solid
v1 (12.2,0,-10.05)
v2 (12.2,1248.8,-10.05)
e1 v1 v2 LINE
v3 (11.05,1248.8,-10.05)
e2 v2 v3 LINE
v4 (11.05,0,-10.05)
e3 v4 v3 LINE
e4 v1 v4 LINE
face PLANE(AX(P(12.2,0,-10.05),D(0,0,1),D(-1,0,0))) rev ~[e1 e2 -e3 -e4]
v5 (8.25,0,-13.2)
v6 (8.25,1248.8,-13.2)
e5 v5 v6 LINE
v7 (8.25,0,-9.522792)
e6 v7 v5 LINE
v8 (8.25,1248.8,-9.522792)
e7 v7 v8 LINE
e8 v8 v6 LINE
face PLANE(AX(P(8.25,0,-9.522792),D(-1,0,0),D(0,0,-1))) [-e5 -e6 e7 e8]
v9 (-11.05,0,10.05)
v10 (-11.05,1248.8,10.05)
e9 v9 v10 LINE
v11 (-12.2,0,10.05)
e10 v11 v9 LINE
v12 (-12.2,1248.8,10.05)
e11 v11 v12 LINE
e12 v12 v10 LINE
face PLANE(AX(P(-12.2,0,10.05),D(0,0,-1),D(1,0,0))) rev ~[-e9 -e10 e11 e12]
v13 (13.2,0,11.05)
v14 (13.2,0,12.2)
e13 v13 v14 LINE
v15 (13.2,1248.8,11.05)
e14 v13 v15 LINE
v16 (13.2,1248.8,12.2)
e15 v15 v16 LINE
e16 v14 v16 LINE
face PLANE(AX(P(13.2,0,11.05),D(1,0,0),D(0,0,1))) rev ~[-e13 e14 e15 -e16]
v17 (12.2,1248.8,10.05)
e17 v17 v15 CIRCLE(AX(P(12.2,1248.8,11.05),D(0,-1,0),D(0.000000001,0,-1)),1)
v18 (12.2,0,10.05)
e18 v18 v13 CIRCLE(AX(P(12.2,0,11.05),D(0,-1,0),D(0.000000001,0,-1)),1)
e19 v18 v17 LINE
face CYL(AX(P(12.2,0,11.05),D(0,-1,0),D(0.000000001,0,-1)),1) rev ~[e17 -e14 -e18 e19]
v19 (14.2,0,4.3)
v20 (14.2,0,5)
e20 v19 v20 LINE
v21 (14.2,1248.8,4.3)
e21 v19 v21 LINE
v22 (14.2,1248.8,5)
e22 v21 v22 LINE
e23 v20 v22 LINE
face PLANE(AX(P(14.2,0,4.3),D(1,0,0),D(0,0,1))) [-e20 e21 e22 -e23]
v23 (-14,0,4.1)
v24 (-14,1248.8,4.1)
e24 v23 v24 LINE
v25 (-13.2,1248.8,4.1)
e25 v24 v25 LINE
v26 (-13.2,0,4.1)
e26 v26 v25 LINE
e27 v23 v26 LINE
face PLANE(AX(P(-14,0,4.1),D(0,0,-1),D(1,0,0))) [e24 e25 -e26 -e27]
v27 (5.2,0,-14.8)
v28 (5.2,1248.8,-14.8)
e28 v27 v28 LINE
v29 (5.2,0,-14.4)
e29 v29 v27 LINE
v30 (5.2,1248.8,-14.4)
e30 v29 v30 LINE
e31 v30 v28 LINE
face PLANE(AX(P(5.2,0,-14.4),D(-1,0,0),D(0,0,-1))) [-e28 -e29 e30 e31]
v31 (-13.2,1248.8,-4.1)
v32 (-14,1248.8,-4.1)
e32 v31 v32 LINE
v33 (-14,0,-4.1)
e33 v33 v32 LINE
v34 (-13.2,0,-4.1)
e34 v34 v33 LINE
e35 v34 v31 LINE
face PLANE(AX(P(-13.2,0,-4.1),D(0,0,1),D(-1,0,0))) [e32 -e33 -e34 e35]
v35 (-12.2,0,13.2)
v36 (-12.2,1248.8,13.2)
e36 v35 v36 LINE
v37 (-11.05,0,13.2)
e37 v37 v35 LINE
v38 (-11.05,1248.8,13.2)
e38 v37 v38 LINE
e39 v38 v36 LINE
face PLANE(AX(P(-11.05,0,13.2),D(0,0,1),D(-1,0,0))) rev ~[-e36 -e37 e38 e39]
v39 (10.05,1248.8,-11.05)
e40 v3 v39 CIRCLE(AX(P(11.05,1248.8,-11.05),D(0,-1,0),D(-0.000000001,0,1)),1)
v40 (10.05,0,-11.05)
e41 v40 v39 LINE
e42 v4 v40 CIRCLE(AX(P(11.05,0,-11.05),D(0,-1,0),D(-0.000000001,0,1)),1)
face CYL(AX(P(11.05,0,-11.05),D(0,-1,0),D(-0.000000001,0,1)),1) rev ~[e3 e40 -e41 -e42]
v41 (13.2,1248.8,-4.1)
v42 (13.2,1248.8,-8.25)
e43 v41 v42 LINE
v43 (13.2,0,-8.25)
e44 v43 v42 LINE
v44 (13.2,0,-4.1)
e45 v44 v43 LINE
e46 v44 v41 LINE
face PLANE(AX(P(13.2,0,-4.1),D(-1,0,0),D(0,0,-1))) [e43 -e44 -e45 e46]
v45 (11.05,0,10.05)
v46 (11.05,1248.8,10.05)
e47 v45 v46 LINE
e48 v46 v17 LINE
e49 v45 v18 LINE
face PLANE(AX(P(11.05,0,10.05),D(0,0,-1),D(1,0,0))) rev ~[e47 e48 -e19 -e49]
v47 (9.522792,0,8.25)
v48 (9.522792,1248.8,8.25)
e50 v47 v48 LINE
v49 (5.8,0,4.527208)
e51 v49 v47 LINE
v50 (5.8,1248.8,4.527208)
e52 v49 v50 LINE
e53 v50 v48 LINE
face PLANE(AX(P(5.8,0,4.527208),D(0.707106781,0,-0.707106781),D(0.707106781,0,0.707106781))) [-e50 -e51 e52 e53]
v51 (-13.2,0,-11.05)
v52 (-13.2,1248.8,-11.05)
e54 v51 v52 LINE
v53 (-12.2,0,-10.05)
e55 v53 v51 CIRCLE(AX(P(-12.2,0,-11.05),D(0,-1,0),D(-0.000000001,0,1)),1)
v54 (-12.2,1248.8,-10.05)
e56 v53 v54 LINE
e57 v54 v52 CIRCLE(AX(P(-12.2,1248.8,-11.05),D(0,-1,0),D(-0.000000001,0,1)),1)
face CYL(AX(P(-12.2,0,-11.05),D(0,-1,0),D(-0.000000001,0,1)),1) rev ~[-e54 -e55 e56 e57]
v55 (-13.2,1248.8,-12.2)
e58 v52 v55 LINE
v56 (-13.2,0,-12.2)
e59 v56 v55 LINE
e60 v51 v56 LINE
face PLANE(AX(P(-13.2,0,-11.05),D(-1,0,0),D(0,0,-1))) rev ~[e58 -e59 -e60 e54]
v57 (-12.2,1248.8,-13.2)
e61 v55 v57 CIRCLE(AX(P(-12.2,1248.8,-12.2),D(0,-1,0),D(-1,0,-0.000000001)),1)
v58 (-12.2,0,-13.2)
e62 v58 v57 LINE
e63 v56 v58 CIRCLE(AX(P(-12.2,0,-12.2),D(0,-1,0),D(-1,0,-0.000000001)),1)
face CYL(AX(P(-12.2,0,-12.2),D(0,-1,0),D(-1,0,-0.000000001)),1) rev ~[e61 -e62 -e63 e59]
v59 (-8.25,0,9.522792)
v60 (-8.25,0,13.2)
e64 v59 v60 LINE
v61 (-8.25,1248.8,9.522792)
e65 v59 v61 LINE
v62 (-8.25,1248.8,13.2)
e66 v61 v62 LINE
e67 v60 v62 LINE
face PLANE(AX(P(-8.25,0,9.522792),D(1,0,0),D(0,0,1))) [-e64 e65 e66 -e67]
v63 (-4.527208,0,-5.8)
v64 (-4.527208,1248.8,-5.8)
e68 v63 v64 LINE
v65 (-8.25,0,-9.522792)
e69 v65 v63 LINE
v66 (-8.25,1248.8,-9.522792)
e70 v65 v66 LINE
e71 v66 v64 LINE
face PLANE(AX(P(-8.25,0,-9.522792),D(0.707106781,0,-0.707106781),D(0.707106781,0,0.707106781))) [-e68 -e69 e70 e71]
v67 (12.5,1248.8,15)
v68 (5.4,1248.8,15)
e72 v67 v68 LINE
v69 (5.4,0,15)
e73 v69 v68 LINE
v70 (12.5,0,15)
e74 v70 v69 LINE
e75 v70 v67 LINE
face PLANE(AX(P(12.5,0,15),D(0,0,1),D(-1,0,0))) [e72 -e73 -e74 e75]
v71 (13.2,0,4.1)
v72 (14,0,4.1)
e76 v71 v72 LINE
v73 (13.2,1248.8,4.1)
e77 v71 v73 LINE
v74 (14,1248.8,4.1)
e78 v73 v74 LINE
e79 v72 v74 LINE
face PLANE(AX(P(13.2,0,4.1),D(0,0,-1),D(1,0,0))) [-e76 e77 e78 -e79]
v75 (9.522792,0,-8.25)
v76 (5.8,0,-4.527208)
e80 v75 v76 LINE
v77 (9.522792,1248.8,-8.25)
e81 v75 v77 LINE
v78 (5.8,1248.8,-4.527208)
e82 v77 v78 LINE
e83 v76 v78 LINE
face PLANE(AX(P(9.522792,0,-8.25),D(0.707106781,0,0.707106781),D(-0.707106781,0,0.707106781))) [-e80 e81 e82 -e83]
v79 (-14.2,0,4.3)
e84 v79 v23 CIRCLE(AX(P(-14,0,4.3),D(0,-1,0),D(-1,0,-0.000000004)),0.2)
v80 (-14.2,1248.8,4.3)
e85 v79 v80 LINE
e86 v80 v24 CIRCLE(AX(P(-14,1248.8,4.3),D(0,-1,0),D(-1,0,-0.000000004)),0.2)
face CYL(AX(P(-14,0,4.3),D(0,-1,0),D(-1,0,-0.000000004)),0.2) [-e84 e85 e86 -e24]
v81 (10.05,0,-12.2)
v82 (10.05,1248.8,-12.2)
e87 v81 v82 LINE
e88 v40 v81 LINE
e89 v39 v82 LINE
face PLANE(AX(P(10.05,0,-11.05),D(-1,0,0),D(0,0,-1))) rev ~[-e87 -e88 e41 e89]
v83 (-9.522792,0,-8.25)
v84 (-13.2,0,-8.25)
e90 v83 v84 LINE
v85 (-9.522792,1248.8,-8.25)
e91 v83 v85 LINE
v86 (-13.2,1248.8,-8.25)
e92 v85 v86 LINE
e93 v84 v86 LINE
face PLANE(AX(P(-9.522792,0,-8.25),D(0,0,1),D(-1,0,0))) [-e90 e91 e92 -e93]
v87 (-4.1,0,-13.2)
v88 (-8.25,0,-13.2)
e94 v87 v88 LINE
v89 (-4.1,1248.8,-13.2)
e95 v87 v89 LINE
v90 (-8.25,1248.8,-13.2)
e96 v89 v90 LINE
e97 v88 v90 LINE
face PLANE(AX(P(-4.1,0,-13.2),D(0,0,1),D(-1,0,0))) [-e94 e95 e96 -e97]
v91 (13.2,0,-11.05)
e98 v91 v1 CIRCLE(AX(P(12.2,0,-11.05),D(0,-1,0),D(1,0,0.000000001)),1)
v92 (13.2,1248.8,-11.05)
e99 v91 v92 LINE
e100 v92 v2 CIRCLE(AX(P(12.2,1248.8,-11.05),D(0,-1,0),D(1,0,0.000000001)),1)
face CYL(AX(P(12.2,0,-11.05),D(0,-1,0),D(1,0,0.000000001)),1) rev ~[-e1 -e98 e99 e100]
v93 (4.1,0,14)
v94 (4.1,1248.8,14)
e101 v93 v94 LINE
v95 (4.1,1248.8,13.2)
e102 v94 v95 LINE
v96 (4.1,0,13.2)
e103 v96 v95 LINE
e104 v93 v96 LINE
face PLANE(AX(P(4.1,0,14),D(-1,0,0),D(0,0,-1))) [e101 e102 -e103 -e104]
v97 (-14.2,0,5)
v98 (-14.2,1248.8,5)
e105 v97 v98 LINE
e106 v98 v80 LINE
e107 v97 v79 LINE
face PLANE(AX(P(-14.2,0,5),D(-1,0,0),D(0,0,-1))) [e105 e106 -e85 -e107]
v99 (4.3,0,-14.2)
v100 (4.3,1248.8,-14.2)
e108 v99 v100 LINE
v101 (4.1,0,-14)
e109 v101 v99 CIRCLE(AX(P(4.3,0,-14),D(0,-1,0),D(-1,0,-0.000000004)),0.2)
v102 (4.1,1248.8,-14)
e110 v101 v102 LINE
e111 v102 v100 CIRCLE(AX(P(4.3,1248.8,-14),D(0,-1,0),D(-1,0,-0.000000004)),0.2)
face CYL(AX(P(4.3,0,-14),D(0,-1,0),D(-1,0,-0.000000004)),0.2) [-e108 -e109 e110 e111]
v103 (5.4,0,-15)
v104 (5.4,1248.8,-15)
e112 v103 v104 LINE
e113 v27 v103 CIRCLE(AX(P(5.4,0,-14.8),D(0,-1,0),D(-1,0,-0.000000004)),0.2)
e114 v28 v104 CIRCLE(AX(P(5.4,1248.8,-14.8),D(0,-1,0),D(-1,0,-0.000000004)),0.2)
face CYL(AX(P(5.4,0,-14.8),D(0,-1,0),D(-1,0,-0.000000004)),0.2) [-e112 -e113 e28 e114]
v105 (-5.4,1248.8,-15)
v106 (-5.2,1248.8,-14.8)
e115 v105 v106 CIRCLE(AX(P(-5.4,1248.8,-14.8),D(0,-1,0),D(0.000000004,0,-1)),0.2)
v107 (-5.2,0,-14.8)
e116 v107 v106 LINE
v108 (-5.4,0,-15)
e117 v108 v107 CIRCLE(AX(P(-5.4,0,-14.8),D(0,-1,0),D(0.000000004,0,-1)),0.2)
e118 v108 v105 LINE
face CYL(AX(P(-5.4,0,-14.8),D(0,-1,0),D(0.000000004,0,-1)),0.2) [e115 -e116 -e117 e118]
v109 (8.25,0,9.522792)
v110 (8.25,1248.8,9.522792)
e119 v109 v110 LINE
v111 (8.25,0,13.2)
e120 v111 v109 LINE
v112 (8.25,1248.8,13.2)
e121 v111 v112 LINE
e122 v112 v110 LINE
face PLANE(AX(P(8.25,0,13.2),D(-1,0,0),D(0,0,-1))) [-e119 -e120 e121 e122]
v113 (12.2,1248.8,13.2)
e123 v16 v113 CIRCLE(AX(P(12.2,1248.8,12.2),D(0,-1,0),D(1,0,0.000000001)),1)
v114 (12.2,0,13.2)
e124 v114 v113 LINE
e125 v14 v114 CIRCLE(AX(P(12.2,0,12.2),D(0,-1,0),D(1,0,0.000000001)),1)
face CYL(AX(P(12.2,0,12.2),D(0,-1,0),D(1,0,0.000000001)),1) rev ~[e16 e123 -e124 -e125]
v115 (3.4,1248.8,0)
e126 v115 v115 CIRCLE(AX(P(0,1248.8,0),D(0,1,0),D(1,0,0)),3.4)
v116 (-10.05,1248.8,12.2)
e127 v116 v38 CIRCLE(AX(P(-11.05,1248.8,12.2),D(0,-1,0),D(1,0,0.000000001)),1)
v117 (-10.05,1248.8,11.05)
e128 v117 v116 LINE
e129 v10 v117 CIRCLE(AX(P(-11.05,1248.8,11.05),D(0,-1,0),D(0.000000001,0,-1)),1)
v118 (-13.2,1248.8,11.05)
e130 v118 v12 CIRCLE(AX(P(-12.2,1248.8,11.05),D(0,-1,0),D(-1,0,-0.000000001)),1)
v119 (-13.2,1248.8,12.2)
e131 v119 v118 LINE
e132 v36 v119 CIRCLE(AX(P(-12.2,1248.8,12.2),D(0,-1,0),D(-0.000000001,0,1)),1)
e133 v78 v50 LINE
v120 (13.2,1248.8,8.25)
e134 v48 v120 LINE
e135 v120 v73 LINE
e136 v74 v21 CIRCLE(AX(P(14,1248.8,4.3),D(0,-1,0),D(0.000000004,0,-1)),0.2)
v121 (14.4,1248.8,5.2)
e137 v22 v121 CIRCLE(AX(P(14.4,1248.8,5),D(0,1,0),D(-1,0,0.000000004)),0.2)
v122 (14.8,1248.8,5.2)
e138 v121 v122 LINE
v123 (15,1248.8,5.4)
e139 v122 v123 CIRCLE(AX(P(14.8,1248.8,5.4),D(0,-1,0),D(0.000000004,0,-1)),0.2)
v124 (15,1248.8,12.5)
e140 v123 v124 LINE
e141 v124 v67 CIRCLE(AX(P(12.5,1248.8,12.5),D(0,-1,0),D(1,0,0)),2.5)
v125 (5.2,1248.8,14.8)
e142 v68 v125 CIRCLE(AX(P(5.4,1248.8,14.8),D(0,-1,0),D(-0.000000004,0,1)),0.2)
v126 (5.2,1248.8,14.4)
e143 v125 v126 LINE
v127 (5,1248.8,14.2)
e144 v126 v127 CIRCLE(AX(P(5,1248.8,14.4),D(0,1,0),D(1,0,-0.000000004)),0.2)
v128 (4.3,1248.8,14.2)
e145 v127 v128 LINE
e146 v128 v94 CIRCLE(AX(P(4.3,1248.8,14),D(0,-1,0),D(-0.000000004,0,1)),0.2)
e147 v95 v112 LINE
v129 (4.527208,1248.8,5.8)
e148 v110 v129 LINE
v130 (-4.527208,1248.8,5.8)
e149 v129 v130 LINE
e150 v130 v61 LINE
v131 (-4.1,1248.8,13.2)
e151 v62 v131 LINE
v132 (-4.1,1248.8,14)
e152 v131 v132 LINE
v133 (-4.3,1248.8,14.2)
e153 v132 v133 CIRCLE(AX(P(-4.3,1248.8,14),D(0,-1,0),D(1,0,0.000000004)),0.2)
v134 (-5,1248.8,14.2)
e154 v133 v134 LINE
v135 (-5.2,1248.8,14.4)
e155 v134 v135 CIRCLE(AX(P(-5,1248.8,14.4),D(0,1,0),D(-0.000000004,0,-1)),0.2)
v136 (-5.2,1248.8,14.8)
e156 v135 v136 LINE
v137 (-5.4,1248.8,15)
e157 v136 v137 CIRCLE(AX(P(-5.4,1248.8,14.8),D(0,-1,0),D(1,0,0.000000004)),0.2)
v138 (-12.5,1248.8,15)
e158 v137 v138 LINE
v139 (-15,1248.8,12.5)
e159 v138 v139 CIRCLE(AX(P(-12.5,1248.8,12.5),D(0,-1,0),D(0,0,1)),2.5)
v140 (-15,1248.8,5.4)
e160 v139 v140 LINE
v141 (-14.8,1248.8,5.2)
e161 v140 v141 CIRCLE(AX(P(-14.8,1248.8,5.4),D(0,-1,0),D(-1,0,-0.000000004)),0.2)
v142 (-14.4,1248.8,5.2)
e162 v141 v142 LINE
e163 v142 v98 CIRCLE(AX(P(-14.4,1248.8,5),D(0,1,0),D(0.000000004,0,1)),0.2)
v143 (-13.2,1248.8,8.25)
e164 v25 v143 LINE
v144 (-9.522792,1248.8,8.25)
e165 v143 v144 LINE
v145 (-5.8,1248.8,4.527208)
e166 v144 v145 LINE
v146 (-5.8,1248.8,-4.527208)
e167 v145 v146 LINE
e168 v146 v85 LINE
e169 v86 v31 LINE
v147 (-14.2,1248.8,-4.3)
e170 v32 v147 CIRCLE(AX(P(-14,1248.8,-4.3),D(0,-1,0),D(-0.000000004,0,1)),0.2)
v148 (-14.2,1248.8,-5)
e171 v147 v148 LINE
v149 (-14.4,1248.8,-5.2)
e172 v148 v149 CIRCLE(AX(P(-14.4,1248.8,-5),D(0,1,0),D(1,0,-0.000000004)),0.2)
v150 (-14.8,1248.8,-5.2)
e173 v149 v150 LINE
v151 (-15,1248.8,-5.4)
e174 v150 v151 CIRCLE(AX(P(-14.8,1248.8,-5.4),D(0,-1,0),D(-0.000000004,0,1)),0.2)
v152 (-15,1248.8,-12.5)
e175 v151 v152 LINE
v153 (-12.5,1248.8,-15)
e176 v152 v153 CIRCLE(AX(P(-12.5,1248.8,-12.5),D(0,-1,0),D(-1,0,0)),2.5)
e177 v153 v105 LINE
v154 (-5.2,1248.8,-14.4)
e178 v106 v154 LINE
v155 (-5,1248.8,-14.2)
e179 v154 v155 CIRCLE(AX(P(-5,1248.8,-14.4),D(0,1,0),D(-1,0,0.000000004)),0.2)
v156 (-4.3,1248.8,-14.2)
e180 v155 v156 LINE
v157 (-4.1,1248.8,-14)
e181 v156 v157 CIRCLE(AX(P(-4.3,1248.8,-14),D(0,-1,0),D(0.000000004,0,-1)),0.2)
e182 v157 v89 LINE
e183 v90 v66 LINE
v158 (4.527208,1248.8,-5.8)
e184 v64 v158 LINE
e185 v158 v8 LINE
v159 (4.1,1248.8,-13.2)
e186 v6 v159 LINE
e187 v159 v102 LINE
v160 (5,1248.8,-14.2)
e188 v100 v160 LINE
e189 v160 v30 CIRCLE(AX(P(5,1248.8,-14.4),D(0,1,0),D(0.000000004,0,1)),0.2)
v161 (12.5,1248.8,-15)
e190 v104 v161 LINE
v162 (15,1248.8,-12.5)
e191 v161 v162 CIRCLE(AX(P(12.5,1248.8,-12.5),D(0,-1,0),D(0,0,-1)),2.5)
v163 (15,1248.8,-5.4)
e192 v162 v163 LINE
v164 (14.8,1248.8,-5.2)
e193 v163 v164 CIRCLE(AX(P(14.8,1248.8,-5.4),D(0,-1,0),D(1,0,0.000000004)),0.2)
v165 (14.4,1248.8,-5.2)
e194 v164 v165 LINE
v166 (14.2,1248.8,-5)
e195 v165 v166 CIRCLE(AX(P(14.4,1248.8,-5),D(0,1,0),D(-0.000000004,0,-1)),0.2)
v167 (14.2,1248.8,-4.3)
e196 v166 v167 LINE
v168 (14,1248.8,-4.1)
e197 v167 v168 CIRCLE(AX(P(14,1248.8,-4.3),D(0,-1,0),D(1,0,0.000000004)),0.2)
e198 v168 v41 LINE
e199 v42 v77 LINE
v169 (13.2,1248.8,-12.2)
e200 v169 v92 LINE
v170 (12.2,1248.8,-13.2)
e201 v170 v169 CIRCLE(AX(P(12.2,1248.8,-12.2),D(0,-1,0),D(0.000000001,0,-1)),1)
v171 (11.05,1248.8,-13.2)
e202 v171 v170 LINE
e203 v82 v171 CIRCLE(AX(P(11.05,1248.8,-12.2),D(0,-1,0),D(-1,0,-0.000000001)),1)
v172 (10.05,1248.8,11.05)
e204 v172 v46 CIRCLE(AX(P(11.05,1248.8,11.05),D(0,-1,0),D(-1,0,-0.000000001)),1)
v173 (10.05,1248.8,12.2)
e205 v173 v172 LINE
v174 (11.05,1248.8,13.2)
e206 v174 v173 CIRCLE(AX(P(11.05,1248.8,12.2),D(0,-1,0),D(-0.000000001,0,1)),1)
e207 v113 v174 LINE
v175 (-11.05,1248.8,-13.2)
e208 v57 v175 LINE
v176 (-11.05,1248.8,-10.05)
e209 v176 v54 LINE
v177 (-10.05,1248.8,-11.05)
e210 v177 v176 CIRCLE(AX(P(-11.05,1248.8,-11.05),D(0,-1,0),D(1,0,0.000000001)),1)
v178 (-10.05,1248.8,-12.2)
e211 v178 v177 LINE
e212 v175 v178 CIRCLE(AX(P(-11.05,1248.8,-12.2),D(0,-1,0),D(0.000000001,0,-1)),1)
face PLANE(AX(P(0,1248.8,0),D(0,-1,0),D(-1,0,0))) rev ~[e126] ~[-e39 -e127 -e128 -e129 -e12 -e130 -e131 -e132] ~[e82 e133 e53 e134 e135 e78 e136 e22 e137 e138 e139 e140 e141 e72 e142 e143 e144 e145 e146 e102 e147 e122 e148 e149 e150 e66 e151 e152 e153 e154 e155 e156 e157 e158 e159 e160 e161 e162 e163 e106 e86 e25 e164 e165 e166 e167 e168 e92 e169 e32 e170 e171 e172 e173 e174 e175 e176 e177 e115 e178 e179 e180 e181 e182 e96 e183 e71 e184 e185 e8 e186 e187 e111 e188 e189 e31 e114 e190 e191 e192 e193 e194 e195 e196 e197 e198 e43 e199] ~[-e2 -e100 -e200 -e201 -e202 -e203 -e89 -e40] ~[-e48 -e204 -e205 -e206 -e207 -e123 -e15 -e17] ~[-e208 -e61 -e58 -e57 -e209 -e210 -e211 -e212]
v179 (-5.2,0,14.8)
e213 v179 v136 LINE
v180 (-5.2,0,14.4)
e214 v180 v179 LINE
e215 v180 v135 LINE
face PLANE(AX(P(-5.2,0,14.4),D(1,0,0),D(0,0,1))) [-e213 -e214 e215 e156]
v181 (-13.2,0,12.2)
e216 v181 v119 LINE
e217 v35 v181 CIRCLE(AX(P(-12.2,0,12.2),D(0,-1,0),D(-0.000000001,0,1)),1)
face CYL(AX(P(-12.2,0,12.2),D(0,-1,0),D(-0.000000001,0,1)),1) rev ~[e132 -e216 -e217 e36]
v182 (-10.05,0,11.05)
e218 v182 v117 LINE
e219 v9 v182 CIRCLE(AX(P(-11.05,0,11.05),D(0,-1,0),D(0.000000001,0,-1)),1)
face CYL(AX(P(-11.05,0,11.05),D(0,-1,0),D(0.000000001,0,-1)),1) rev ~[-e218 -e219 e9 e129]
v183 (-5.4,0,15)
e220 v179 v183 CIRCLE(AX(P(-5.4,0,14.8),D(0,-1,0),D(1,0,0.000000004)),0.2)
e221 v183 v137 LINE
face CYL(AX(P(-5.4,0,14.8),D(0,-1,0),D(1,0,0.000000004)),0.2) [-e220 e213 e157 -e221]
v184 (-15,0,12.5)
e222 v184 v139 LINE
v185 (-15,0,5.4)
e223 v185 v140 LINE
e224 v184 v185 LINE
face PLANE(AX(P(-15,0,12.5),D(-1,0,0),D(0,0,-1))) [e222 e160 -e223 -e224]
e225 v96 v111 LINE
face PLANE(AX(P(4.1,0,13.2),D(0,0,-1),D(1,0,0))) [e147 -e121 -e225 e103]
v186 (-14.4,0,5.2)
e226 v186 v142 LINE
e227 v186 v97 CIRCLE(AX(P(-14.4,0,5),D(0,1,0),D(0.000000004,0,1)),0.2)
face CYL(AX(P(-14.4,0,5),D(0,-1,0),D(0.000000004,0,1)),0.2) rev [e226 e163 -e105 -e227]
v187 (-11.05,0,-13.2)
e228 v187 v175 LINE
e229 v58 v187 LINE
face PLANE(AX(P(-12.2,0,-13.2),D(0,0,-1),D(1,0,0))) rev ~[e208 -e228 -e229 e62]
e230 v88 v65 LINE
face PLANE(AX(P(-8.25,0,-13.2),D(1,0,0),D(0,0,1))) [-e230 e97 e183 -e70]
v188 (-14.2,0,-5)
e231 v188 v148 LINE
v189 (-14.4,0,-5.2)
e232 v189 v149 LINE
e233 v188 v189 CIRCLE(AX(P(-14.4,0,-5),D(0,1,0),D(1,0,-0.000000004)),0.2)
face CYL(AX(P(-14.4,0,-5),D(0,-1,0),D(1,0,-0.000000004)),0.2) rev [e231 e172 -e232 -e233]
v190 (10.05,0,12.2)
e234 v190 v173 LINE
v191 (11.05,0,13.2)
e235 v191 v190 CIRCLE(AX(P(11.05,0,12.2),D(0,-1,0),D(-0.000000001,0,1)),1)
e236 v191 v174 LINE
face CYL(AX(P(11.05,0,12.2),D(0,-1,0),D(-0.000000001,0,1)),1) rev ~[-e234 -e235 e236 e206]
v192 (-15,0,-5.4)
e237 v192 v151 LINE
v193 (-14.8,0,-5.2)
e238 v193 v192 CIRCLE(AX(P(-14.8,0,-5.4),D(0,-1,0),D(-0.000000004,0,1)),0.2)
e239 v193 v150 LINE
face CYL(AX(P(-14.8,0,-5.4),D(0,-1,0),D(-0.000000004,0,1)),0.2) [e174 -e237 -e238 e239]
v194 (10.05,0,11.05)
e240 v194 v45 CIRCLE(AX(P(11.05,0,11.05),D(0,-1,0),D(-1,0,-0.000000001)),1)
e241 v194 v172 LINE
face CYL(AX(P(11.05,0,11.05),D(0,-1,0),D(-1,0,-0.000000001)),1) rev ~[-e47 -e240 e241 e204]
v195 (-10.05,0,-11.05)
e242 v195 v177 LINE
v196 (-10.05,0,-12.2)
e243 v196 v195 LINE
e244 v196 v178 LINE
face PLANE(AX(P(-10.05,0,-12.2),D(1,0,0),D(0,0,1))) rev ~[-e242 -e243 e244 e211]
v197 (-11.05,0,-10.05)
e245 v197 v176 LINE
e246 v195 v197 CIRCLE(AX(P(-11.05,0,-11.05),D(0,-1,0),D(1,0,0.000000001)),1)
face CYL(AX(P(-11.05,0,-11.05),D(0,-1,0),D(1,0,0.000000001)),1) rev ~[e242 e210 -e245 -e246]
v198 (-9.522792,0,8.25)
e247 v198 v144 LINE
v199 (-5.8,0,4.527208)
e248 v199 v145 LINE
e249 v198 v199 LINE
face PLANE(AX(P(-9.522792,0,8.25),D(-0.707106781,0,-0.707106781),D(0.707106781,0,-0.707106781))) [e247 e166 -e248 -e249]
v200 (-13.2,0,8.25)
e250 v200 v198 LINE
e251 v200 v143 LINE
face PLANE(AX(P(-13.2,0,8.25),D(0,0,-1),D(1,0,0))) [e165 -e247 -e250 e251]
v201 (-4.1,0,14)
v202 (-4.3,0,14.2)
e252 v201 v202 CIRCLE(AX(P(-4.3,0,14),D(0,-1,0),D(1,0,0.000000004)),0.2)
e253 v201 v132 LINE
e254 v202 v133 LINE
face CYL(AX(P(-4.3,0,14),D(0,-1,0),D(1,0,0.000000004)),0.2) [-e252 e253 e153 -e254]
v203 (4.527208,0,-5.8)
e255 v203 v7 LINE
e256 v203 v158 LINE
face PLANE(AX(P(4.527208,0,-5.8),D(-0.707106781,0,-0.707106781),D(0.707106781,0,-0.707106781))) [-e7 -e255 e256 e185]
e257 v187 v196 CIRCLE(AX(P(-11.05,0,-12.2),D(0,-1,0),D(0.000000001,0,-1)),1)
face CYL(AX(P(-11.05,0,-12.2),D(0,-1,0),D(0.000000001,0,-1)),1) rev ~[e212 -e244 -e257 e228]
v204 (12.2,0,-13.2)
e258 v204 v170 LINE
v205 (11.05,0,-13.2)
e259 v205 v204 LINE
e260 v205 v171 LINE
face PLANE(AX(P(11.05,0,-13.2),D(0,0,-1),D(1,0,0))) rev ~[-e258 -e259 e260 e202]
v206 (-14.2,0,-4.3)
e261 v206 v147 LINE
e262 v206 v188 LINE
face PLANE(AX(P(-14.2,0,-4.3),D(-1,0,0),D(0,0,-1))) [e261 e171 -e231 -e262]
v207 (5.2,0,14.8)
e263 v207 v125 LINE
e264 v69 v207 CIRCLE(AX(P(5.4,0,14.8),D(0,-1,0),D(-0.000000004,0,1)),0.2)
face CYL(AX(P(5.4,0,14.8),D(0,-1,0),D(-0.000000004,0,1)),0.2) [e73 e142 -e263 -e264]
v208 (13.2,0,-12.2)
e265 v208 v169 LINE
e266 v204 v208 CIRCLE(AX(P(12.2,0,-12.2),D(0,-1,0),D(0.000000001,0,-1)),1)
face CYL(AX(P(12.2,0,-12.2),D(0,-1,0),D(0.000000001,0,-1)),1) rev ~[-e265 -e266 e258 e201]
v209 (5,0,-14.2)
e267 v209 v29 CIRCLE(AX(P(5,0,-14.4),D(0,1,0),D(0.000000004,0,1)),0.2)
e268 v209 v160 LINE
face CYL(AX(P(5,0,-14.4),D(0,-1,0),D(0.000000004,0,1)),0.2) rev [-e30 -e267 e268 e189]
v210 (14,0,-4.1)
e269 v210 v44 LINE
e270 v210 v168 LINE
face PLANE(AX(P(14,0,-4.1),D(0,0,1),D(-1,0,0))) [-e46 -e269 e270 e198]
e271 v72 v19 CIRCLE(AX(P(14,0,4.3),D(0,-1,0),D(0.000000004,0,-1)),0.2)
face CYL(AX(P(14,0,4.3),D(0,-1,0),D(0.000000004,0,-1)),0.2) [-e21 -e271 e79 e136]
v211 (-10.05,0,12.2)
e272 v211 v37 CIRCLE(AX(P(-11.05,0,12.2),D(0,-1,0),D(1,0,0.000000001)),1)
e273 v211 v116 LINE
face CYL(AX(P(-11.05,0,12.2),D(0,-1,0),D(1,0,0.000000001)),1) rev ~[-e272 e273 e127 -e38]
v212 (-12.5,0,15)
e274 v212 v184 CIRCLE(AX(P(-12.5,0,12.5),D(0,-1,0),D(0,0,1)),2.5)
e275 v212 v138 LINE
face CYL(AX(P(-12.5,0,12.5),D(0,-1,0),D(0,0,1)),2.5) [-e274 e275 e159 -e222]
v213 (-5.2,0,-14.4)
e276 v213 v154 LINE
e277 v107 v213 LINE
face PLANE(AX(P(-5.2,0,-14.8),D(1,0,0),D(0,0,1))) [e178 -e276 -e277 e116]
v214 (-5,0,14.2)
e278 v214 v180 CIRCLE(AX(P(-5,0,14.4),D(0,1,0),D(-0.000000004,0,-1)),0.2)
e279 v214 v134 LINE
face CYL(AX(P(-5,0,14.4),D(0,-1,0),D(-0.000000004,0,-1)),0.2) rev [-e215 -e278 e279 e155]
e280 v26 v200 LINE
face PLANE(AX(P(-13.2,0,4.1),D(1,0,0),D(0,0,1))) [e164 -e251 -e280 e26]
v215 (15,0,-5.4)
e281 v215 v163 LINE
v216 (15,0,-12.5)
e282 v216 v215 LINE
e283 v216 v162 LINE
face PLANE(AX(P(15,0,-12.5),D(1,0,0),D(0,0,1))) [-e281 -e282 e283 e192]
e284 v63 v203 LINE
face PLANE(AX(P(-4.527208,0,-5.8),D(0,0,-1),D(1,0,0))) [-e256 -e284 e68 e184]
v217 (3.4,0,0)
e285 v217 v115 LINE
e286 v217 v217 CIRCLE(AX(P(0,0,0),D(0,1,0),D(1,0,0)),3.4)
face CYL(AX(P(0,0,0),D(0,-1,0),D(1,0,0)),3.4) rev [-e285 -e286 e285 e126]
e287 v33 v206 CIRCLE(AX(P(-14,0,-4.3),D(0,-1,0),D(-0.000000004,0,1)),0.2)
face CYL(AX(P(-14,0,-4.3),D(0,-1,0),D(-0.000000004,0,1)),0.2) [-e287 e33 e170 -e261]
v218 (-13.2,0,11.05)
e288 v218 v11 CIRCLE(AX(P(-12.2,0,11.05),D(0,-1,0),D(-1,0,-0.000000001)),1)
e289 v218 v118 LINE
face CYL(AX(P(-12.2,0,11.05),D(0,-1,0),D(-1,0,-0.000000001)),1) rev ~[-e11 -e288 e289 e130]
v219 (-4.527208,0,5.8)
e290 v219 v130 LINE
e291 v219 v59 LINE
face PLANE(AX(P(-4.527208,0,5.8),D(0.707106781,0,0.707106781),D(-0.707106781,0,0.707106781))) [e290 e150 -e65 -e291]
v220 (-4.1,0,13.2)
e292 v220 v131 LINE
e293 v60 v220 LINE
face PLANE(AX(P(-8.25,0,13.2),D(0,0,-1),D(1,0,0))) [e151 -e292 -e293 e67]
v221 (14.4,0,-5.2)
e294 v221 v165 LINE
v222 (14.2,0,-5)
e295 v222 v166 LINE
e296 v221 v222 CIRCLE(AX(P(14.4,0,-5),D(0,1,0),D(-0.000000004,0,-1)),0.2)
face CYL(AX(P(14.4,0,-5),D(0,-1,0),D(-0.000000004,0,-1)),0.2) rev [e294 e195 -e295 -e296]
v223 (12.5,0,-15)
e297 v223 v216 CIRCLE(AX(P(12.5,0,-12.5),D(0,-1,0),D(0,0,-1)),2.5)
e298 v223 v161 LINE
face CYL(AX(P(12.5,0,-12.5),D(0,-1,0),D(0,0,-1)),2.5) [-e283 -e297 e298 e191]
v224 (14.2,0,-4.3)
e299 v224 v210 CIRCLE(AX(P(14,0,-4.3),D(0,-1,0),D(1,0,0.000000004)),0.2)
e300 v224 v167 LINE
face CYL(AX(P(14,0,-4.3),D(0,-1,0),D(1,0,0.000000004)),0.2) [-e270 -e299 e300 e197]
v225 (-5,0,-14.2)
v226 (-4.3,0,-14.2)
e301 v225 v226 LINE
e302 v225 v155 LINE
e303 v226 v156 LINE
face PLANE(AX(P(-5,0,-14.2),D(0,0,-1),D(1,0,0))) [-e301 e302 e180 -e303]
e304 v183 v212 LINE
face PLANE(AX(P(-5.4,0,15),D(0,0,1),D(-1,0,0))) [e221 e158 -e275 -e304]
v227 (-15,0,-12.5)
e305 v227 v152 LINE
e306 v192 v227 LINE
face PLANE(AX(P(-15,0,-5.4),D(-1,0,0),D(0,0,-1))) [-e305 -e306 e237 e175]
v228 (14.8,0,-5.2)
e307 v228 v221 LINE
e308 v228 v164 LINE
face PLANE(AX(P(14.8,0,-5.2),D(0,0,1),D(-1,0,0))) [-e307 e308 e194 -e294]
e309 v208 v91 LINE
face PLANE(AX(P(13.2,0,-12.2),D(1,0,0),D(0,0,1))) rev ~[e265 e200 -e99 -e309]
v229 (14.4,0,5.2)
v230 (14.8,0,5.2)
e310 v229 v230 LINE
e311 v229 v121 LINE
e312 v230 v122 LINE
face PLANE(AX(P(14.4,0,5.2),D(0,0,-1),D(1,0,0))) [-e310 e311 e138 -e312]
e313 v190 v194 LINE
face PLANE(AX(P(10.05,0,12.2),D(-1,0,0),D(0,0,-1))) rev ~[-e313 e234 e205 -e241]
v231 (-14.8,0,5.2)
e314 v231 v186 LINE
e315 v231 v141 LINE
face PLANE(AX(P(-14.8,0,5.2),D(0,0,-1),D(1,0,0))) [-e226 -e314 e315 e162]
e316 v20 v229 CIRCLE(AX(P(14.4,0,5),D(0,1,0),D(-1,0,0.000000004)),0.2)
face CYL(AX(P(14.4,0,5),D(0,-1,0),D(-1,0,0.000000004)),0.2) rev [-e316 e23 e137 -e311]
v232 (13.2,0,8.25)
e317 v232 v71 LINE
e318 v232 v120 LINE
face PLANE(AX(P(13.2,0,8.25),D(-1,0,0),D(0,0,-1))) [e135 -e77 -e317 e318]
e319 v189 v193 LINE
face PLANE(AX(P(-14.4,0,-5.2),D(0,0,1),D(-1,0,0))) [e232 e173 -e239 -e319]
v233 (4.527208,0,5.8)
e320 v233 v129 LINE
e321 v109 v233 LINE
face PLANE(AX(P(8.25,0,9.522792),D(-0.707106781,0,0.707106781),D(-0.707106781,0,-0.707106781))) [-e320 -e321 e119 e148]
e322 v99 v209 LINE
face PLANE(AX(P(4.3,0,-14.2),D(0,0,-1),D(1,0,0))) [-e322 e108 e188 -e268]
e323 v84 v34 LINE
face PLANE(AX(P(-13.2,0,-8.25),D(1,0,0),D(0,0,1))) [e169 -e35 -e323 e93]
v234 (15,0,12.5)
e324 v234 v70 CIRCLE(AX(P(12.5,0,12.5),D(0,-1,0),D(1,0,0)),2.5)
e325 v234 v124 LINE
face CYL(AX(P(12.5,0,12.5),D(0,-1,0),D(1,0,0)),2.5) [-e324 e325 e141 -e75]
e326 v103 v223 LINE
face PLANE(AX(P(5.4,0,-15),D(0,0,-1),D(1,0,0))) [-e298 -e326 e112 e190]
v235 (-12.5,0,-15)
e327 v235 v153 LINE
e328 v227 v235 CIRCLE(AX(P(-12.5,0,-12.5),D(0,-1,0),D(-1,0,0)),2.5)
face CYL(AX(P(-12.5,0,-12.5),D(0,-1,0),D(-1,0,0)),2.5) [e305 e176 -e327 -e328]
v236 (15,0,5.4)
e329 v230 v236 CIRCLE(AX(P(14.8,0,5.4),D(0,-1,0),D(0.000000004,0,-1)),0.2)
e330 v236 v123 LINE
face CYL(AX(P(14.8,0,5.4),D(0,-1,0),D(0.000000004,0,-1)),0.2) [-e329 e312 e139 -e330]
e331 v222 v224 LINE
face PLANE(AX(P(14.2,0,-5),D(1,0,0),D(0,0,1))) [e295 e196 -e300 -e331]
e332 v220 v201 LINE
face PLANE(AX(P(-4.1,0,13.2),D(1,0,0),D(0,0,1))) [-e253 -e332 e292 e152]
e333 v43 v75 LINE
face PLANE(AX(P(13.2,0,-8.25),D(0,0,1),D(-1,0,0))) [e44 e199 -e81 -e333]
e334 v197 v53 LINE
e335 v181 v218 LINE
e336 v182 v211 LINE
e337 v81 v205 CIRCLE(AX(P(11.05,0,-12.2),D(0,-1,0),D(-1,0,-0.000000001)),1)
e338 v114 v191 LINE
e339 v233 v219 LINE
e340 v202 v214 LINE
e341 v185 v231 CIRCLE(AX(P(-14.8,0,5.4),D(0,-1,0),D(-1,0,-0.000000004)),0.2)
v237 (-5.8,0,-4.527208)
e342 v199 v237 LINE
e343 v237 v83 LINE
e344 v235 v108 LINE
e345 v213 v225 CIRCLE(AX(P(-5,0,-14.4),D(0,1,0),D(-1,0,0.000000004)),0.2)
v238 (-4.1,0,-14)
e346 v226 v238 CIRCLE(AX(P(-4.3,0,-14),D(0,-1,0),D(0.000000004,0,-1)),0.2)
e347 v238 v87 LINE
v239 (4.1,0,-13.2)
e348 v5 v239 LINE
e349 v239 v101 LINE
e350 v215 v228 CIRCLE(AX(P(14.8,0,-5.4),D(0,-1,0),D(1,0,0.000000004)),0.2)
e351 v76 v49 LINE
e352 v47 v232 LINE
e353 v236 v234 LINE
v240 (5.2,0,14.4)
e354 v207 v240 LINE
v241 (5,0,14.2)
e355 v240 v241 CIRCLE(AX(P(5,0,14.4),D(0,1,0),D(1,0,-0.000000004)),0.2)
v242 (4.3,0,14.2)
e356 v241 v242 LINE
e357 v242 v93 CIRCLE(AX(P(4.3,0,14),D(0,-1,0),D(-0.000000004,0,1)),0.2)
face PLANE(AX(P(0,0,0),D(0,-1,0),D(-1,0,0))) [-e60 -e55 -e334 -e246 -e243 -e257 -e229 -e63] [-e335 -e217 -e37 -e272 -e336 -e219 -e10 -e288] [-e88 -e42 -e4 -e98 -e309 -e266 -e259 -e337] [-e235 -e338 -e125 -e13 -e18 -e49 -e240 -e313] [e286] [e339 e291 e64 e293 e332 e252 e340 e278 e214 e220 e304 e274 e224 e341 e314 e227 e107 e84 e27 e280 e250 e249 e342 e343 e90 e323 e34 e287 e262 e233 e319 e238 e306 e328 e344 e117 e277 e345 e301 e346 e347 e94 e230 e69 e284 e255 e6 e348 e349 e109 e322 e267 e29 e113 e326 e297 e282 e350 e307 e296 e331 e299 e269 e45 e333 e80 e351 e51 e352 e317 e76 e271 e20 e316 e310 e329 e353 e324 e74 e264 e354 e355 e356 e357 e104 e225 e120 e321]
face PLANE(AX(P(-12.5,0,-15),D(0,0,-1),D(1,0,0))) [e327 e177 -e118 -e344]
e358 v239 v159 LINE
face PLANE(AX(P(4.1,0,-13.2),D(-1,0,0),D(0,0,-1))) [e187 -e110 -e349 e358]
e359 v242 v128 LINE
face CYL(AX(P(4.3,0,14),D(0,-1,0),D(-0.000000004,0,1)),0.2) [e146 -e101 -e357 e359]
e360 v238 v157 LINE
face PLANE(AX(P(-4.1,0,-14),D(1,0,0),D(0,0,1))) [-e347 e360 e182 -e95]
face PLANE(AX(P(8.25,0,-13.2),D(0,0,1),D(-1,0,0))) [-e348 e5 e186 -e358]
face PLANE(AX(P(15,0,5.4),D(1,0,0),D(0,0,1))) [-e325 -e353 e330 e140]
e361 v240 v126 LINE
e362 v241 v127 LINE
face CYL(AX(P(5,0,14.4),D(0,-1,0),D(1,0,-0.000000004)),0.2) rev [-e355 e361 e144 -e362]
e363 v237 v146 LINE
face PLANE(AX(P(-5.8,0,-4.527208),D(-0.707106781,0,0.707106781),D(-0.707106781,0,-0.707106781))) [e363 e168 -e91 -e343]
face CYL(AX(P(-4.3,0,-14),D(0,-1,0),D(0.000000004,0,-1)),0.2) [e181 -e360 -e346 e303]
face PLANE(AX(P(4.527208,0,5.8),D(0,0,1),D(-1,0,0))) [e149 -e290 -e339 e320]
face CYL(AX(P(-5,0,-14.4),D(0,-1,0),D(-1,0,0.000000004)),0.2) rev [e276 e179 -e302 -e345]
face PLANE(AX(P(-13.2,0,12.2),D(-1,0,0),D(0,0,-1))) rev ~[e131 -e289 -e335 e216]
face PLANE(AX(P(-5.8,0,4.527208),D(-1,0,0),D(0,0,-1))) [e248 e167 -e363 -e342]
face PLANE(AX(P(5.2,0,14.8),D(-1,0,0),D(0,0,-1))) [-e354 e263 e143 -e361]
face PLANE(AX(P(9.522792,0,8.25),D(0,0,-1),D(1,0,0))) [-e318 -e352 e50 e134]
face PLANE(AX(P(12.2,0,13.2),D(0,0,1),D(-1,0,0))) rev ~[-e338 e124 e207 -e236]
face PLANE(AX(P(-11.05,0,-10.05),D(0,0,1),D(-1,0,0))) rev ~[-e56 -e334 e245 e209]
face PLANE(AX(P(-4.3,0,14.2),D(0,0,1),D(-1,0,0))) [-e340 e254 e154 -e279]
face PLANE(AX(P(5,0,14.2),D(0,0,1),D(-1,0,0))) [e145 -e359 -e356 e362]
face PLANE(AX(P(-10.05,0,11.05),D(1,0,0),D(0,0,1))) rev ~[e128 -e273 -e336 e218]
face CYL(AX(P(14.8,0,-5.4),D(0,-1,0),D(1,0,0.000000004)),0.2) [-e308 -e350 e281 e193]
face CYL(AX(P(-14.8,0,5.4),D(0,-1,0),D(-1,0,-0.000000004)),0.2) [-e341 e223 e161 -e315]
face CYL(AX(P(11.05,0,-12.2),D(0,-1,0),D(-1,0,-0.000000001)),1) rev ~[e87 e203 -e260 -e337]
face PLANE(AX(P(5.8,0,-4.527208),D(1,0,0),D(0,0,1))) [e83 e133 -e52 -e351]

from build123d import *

# Parameters (mm, degrees)
SKETCH_3_R      = 3.4
EXTRUDE_1_DEPTH = 1248.8


with BuildPart() as part:
    # 草图3 → 凸台-拉伸1 (new body)
    with BuildSketch(Plane(origin=(0, 0, 0), x_dir=(1, 0, 0), z_dir=(0, 1, 0))):
        with BuildLine():
            Line((-15, -12.5), (-15, -5.4))
            ThreePointArc((-15, -5.4), (-14.941421356, -5.258578644), (-14.8, -5.2))
            Line((-14.8, -5.2), (-14.4, -5.2))
            ThreePointArc((-14.4, -5.2), (-14.258578644, -5.141421356), (-14.2, -5))
            Line((-14.2, -5), (-14.2, -4.3))
            ThreePointArc((-14.2, -4.3), (-14.141421356, -4.158578644), (-14, -4.1))
            Line((-14, -4.1), (-13.2, -4.1))
            Line((-13.2, -4.1), (-13.2, -8.25))
            Line((-13.2, -8.25), (-9.522792206, -8.25))
            Line((-9.522792206, -8.25), (-5.8, -4.527207794))
            Line((-5.8, -4.527207794), (-5.8, 4.527207794))
            Line((-5.8, 4.527207794), (-9.522792206, 8.25))
            Line((-9.522792206, 8.25), (-13.2, 8.25))
            Line((-13.2, 8.25), (-13.2, 4.1))
            Line((-13.2, 4.1), (-14, 4.1))
            ThreePointArc((-14, 4.1), (-14.141421356, 4.158578644), (-14.2, 4.3))
            Line((-14.2, 4.3), (-14.2, 5))
            ThreePointArc((-14.2, 5), (-14.258578644, 5.141421356), (-14.4, 5.2))
            Line((-14.4, 5.2), (-14.8, 5.2))
            ThreePointArc((-14.8, 5.2), (-14.941421356, 5.258578644), (-15, 5.4))
            Line((-15, 5.4), (-15, 12.5))
            ThreePointArc((-15, 12.5), (-14.267766953, 14.267766953), (-12.5, 15))
            Line((-12.5, 15), (-5.4, 15))
            ThreePointArc((-5.4, 15), (-5.258578644, 14.941421356), (-5.2, 14.8))
            Line((-5.2, 14.8), (-5.2, 14.4))
            ThreePointArc((-5.2, 14.4), (-5.141421356, 14.258578644), (-5, 14.2))
            Line((-5, 14.2), (-4.3, 14.2))
            ThreePointArc((-4.3, 14.2), (-4.158578644, 14.141421356), (-4.1, 14))
            Line((-4.1, 14), (-4.1, 13.2))
            Line((-4.1, 13.2), (-8.25, 13.2))
            Line((-8.25, 13.2), (-8.25, 9.522792206))
            Line((-8.25, 9.522792206), (-4.527207794, 5.8))
            Line((-4.527207794, 5.8), (4.527207794, 5.8))
            Line((4.527207794, 5.8), (8.25, 9.522792206))
            Line((8.25, 9.522792206), (8.25, 13.2))
            Line((8.25, 13.2), (4.1, 13.2))
            Line((4.1, 13.2), (4.1, 14))
            ThreePointArc((4.1, 14), (4.158578644, 14.141421356), (4.3, 14.2))
            Line((4.3, 14.2), (5, 14.2))
            ThreePointArc((5, 14.2), (5.141421356, 14.258578644), (5.2, 14.4))
            Line((5.2, 14.4), (5.2, 14.8))
            ThreePointArc((5.2, 14.8), (5.258578644, 14.941421356), (5.4, 15))
            Line((5.4, 15), (12.5, 15))
            ThreePointArc((12.5, 15), (14.267766953, 14.267766953), (15, 12.5))
            Line((15, 12.5), (15, 5.4))
            ThreePointArc((15, 5.4), (14.941421356, 5.258578644), (14.8, 5.2))
            Line((14.8, 5.2), (14.4, 5.2))
            ThreePointArc((14.4, 5.2), (14.258578644, 5.141421356), (14.2, 5))
            Line((14.2, 5), (14.2, 4.3))
            ThreePointArc((14.2, 4.3), (14.141421356, 4.158578644), (14, 4.1))
            Line((14, 4.1), (13.2, 4.1))
            Line((13.2, 4.1), (13.2, 8.25))
            Line((13.2, 8.25), (9.522792206, 8.25))
            Line((9.522792206, 8.25), (5.8, 4.527207794))
            Line((5.8, 4.527207794), (5.8, -4.527207794))
            Line((5.8, -4.527207794), (9.522792206, -8.25))
            Line((9.522792206, -8.25), (13.2, -8.25))
            Line((13.2, -8.25), (13.2, -4.1))
            Line((13.2, -4.1), (14, -4.1))
            ThreePointArc((14, -4.1), (14.141421356, -4.158578644), (14.2, -4.3))
            Line((14.2, -4.3), (14.2, -5))
            ThreePointArc((14.2, -5), (14.258578644, -5.141421356), (14.4, -5.2))
            Line((14.4, -5.2), (14.8, -5.2))
            ThreePointArc((14.8, -5.2), (14.941421356, -5.258578644), (15, -5.4))
            Line((15, -5.4), (15, -12.5))
            ThreePointArc((15, -12.5), (14.267766953, -14.267766953), (12.5, -15))
            Line((12.5, -15), (5.4, -15))
            ThreePointArc((5.4, -15), (5.258578644, -14.941421356), (5.2, -14.8))
            Line((5.2, -14.8), (5.2, -14.4))
            ThreePointArc((5.2, -14.4), (5.141421356, -14.258578644), (5, -14.2))
            Line((5, -14.2), (4.3, -14.2))
            ThreePointArc((4.3, -14.2), (4.158578644, -14.141421356), (4.1, -14))
            Line((4.1, -14), (4.1, -13.2))
            Line((4.1, -13.2), (8.25, -13.2))
            Line((8.25, -13.2), (8.25, -9.522792206))
            Line((8.25, -9.522792206), (4.527207794, -5.8))
            Line((4.527207794, -5.8), (-4.527207794, -5.8))
            Line((-4.527207794, -5.8), (-8.25, -9.522792206))
            Line((-8.25, -9.522792206), (-8.25, -13.2))
            Line((-8.25, -13.2), (-4.1, -13.2))
            Line((-4.1, -13.2), (-4.1, -14))
            ThreePointArc((-4.1, -14), (-4.158578644, -14.141421356), (-4.3, -14.2))
            Line((-4.3, -14.2), (-5, -14.2))
            ThreePointArc((-5, -14.2), (-5.141421356, -14.258578644), (-5.2, -14.4))
            Line((-5.2, -14.4), (-5.2, -14.8))
            ThreePointArc((-5.2, -14.8), (-5.258578644, -14.941421356), (-5.4, -15))
            Line((-5.4, -15), (-12.5, -15))
            ThreePointArc((-12.5, -15), (-14.267766953, -14.267766953), (-15, -12.5))
        make_face()
        Circle(SKETCH_3_R, mode=Mode.SUBTRACT)
        with BuildLine():
            Line((-13.2, -12.2), (-13.2, -11.05))
            ThreePointArc((-13.2, -11.05), (-12.907106781, -10.342893219), (-12.2, -10.05))
            Line((-12.2, -10.05), (-11.05, -10.05))
            ThreePointArc((-11.05, -10.05), (-10.342893219, -10.342893219), (-10.05, -11.05))
            Line((-10.05, -11.05), (-10.05, -12.2))
            ThreePointArc((-10.05, -12.2), (-10.342893219, -12.907106781), (-11.05, -13.2))
            Line((-11.05, -13.2), (-12.2, -13.2))
            ThreePointArc((-12.2, -13.2), (-12.907106781, -12.907106781), (-13.2, -12.2))
        make_face(mode=Mode.SUBTRACT)
        with BuildLine():
            Line((-10.05, 12.2), (-10.05, 11.05))
            ThreePointArc((-10.05, 11.05), (-10.342893219, 10.342893219), (-11.05, 10.05))
            Line((-11.05, 10.05), (-12.2, 10.05))
            ThreePointArc((-12.2, 10.05), (-12.907106781, 10.342893219), (-13.2, 11.05))
            Line((-13.2, 11.05), (-13.2, 12.2))
            ThreePointArc((-13.2, 12.2), (-12.907106781, 12.907106781), (-12.2, 13.2))
            Line((-12.2, 13.2), (-11.05, 13.2))
            ThreePointArc((-11.05, 13.2), (-10.342893219, 12.907106781), (-10.05, 12.2))
        make_face(mode=Mode.SUBTRACT)
        with BuildLine():
            Line((13.2, 12.2), (13.2, 11.05))
            ThreePointArc((13.2, 11.05), (12.907106781, 10.342893219), (12.2, 10.05))
            Line((12.2, 10.05), (11.05, 10.05))
            ThreePointArc((11.05, 10.05), (10.342893219, 10.342893219), (10.05, 11.05))
            Line((10.05, 11.05), (10.05, 12.2))
            ThreePointArc((10.05, 12.2), (10.342893219, 12.907106781), (11.05, 13.2))
            Line((11.05, 13.2), (12.2, 13.2))
            ThreePointArc((12.2, 13.2), (12.907106781, 12.907106781), (13.2, 12.2))
        make_face(mode=Mode.SUBTRACT)
        with BuildLine():
            Line((10.05, -12.2), (10.05, -11.05))
            ThreePointArc((10.05, -11.05), (10.342893219, -10.342893219), (11.05, -10.05))
            Line((11.05, -10.05), (12.2, -10.05))
            ThreePointArc((12.2, -10.05), (12.907106781, -10.342893219), (13.2, -11.05))
            Line((13.2, -11.05), (13.2, -12.2))
            ThreePointArc((13.2, -12.2), (12.907106781, -12.907106781), (12.2, -13.2))
            Line((12.2, -13.2), (11.05, -13.2))
            ThreePointArc((11.05, -13.2), (10.342893219, -12.907106781), (10.05, -12.2))
        make_face(mode=Mode.SUBTRACT)
    extrude(amount=EXTRUDE_1_DEPTH)


solid = part.part
